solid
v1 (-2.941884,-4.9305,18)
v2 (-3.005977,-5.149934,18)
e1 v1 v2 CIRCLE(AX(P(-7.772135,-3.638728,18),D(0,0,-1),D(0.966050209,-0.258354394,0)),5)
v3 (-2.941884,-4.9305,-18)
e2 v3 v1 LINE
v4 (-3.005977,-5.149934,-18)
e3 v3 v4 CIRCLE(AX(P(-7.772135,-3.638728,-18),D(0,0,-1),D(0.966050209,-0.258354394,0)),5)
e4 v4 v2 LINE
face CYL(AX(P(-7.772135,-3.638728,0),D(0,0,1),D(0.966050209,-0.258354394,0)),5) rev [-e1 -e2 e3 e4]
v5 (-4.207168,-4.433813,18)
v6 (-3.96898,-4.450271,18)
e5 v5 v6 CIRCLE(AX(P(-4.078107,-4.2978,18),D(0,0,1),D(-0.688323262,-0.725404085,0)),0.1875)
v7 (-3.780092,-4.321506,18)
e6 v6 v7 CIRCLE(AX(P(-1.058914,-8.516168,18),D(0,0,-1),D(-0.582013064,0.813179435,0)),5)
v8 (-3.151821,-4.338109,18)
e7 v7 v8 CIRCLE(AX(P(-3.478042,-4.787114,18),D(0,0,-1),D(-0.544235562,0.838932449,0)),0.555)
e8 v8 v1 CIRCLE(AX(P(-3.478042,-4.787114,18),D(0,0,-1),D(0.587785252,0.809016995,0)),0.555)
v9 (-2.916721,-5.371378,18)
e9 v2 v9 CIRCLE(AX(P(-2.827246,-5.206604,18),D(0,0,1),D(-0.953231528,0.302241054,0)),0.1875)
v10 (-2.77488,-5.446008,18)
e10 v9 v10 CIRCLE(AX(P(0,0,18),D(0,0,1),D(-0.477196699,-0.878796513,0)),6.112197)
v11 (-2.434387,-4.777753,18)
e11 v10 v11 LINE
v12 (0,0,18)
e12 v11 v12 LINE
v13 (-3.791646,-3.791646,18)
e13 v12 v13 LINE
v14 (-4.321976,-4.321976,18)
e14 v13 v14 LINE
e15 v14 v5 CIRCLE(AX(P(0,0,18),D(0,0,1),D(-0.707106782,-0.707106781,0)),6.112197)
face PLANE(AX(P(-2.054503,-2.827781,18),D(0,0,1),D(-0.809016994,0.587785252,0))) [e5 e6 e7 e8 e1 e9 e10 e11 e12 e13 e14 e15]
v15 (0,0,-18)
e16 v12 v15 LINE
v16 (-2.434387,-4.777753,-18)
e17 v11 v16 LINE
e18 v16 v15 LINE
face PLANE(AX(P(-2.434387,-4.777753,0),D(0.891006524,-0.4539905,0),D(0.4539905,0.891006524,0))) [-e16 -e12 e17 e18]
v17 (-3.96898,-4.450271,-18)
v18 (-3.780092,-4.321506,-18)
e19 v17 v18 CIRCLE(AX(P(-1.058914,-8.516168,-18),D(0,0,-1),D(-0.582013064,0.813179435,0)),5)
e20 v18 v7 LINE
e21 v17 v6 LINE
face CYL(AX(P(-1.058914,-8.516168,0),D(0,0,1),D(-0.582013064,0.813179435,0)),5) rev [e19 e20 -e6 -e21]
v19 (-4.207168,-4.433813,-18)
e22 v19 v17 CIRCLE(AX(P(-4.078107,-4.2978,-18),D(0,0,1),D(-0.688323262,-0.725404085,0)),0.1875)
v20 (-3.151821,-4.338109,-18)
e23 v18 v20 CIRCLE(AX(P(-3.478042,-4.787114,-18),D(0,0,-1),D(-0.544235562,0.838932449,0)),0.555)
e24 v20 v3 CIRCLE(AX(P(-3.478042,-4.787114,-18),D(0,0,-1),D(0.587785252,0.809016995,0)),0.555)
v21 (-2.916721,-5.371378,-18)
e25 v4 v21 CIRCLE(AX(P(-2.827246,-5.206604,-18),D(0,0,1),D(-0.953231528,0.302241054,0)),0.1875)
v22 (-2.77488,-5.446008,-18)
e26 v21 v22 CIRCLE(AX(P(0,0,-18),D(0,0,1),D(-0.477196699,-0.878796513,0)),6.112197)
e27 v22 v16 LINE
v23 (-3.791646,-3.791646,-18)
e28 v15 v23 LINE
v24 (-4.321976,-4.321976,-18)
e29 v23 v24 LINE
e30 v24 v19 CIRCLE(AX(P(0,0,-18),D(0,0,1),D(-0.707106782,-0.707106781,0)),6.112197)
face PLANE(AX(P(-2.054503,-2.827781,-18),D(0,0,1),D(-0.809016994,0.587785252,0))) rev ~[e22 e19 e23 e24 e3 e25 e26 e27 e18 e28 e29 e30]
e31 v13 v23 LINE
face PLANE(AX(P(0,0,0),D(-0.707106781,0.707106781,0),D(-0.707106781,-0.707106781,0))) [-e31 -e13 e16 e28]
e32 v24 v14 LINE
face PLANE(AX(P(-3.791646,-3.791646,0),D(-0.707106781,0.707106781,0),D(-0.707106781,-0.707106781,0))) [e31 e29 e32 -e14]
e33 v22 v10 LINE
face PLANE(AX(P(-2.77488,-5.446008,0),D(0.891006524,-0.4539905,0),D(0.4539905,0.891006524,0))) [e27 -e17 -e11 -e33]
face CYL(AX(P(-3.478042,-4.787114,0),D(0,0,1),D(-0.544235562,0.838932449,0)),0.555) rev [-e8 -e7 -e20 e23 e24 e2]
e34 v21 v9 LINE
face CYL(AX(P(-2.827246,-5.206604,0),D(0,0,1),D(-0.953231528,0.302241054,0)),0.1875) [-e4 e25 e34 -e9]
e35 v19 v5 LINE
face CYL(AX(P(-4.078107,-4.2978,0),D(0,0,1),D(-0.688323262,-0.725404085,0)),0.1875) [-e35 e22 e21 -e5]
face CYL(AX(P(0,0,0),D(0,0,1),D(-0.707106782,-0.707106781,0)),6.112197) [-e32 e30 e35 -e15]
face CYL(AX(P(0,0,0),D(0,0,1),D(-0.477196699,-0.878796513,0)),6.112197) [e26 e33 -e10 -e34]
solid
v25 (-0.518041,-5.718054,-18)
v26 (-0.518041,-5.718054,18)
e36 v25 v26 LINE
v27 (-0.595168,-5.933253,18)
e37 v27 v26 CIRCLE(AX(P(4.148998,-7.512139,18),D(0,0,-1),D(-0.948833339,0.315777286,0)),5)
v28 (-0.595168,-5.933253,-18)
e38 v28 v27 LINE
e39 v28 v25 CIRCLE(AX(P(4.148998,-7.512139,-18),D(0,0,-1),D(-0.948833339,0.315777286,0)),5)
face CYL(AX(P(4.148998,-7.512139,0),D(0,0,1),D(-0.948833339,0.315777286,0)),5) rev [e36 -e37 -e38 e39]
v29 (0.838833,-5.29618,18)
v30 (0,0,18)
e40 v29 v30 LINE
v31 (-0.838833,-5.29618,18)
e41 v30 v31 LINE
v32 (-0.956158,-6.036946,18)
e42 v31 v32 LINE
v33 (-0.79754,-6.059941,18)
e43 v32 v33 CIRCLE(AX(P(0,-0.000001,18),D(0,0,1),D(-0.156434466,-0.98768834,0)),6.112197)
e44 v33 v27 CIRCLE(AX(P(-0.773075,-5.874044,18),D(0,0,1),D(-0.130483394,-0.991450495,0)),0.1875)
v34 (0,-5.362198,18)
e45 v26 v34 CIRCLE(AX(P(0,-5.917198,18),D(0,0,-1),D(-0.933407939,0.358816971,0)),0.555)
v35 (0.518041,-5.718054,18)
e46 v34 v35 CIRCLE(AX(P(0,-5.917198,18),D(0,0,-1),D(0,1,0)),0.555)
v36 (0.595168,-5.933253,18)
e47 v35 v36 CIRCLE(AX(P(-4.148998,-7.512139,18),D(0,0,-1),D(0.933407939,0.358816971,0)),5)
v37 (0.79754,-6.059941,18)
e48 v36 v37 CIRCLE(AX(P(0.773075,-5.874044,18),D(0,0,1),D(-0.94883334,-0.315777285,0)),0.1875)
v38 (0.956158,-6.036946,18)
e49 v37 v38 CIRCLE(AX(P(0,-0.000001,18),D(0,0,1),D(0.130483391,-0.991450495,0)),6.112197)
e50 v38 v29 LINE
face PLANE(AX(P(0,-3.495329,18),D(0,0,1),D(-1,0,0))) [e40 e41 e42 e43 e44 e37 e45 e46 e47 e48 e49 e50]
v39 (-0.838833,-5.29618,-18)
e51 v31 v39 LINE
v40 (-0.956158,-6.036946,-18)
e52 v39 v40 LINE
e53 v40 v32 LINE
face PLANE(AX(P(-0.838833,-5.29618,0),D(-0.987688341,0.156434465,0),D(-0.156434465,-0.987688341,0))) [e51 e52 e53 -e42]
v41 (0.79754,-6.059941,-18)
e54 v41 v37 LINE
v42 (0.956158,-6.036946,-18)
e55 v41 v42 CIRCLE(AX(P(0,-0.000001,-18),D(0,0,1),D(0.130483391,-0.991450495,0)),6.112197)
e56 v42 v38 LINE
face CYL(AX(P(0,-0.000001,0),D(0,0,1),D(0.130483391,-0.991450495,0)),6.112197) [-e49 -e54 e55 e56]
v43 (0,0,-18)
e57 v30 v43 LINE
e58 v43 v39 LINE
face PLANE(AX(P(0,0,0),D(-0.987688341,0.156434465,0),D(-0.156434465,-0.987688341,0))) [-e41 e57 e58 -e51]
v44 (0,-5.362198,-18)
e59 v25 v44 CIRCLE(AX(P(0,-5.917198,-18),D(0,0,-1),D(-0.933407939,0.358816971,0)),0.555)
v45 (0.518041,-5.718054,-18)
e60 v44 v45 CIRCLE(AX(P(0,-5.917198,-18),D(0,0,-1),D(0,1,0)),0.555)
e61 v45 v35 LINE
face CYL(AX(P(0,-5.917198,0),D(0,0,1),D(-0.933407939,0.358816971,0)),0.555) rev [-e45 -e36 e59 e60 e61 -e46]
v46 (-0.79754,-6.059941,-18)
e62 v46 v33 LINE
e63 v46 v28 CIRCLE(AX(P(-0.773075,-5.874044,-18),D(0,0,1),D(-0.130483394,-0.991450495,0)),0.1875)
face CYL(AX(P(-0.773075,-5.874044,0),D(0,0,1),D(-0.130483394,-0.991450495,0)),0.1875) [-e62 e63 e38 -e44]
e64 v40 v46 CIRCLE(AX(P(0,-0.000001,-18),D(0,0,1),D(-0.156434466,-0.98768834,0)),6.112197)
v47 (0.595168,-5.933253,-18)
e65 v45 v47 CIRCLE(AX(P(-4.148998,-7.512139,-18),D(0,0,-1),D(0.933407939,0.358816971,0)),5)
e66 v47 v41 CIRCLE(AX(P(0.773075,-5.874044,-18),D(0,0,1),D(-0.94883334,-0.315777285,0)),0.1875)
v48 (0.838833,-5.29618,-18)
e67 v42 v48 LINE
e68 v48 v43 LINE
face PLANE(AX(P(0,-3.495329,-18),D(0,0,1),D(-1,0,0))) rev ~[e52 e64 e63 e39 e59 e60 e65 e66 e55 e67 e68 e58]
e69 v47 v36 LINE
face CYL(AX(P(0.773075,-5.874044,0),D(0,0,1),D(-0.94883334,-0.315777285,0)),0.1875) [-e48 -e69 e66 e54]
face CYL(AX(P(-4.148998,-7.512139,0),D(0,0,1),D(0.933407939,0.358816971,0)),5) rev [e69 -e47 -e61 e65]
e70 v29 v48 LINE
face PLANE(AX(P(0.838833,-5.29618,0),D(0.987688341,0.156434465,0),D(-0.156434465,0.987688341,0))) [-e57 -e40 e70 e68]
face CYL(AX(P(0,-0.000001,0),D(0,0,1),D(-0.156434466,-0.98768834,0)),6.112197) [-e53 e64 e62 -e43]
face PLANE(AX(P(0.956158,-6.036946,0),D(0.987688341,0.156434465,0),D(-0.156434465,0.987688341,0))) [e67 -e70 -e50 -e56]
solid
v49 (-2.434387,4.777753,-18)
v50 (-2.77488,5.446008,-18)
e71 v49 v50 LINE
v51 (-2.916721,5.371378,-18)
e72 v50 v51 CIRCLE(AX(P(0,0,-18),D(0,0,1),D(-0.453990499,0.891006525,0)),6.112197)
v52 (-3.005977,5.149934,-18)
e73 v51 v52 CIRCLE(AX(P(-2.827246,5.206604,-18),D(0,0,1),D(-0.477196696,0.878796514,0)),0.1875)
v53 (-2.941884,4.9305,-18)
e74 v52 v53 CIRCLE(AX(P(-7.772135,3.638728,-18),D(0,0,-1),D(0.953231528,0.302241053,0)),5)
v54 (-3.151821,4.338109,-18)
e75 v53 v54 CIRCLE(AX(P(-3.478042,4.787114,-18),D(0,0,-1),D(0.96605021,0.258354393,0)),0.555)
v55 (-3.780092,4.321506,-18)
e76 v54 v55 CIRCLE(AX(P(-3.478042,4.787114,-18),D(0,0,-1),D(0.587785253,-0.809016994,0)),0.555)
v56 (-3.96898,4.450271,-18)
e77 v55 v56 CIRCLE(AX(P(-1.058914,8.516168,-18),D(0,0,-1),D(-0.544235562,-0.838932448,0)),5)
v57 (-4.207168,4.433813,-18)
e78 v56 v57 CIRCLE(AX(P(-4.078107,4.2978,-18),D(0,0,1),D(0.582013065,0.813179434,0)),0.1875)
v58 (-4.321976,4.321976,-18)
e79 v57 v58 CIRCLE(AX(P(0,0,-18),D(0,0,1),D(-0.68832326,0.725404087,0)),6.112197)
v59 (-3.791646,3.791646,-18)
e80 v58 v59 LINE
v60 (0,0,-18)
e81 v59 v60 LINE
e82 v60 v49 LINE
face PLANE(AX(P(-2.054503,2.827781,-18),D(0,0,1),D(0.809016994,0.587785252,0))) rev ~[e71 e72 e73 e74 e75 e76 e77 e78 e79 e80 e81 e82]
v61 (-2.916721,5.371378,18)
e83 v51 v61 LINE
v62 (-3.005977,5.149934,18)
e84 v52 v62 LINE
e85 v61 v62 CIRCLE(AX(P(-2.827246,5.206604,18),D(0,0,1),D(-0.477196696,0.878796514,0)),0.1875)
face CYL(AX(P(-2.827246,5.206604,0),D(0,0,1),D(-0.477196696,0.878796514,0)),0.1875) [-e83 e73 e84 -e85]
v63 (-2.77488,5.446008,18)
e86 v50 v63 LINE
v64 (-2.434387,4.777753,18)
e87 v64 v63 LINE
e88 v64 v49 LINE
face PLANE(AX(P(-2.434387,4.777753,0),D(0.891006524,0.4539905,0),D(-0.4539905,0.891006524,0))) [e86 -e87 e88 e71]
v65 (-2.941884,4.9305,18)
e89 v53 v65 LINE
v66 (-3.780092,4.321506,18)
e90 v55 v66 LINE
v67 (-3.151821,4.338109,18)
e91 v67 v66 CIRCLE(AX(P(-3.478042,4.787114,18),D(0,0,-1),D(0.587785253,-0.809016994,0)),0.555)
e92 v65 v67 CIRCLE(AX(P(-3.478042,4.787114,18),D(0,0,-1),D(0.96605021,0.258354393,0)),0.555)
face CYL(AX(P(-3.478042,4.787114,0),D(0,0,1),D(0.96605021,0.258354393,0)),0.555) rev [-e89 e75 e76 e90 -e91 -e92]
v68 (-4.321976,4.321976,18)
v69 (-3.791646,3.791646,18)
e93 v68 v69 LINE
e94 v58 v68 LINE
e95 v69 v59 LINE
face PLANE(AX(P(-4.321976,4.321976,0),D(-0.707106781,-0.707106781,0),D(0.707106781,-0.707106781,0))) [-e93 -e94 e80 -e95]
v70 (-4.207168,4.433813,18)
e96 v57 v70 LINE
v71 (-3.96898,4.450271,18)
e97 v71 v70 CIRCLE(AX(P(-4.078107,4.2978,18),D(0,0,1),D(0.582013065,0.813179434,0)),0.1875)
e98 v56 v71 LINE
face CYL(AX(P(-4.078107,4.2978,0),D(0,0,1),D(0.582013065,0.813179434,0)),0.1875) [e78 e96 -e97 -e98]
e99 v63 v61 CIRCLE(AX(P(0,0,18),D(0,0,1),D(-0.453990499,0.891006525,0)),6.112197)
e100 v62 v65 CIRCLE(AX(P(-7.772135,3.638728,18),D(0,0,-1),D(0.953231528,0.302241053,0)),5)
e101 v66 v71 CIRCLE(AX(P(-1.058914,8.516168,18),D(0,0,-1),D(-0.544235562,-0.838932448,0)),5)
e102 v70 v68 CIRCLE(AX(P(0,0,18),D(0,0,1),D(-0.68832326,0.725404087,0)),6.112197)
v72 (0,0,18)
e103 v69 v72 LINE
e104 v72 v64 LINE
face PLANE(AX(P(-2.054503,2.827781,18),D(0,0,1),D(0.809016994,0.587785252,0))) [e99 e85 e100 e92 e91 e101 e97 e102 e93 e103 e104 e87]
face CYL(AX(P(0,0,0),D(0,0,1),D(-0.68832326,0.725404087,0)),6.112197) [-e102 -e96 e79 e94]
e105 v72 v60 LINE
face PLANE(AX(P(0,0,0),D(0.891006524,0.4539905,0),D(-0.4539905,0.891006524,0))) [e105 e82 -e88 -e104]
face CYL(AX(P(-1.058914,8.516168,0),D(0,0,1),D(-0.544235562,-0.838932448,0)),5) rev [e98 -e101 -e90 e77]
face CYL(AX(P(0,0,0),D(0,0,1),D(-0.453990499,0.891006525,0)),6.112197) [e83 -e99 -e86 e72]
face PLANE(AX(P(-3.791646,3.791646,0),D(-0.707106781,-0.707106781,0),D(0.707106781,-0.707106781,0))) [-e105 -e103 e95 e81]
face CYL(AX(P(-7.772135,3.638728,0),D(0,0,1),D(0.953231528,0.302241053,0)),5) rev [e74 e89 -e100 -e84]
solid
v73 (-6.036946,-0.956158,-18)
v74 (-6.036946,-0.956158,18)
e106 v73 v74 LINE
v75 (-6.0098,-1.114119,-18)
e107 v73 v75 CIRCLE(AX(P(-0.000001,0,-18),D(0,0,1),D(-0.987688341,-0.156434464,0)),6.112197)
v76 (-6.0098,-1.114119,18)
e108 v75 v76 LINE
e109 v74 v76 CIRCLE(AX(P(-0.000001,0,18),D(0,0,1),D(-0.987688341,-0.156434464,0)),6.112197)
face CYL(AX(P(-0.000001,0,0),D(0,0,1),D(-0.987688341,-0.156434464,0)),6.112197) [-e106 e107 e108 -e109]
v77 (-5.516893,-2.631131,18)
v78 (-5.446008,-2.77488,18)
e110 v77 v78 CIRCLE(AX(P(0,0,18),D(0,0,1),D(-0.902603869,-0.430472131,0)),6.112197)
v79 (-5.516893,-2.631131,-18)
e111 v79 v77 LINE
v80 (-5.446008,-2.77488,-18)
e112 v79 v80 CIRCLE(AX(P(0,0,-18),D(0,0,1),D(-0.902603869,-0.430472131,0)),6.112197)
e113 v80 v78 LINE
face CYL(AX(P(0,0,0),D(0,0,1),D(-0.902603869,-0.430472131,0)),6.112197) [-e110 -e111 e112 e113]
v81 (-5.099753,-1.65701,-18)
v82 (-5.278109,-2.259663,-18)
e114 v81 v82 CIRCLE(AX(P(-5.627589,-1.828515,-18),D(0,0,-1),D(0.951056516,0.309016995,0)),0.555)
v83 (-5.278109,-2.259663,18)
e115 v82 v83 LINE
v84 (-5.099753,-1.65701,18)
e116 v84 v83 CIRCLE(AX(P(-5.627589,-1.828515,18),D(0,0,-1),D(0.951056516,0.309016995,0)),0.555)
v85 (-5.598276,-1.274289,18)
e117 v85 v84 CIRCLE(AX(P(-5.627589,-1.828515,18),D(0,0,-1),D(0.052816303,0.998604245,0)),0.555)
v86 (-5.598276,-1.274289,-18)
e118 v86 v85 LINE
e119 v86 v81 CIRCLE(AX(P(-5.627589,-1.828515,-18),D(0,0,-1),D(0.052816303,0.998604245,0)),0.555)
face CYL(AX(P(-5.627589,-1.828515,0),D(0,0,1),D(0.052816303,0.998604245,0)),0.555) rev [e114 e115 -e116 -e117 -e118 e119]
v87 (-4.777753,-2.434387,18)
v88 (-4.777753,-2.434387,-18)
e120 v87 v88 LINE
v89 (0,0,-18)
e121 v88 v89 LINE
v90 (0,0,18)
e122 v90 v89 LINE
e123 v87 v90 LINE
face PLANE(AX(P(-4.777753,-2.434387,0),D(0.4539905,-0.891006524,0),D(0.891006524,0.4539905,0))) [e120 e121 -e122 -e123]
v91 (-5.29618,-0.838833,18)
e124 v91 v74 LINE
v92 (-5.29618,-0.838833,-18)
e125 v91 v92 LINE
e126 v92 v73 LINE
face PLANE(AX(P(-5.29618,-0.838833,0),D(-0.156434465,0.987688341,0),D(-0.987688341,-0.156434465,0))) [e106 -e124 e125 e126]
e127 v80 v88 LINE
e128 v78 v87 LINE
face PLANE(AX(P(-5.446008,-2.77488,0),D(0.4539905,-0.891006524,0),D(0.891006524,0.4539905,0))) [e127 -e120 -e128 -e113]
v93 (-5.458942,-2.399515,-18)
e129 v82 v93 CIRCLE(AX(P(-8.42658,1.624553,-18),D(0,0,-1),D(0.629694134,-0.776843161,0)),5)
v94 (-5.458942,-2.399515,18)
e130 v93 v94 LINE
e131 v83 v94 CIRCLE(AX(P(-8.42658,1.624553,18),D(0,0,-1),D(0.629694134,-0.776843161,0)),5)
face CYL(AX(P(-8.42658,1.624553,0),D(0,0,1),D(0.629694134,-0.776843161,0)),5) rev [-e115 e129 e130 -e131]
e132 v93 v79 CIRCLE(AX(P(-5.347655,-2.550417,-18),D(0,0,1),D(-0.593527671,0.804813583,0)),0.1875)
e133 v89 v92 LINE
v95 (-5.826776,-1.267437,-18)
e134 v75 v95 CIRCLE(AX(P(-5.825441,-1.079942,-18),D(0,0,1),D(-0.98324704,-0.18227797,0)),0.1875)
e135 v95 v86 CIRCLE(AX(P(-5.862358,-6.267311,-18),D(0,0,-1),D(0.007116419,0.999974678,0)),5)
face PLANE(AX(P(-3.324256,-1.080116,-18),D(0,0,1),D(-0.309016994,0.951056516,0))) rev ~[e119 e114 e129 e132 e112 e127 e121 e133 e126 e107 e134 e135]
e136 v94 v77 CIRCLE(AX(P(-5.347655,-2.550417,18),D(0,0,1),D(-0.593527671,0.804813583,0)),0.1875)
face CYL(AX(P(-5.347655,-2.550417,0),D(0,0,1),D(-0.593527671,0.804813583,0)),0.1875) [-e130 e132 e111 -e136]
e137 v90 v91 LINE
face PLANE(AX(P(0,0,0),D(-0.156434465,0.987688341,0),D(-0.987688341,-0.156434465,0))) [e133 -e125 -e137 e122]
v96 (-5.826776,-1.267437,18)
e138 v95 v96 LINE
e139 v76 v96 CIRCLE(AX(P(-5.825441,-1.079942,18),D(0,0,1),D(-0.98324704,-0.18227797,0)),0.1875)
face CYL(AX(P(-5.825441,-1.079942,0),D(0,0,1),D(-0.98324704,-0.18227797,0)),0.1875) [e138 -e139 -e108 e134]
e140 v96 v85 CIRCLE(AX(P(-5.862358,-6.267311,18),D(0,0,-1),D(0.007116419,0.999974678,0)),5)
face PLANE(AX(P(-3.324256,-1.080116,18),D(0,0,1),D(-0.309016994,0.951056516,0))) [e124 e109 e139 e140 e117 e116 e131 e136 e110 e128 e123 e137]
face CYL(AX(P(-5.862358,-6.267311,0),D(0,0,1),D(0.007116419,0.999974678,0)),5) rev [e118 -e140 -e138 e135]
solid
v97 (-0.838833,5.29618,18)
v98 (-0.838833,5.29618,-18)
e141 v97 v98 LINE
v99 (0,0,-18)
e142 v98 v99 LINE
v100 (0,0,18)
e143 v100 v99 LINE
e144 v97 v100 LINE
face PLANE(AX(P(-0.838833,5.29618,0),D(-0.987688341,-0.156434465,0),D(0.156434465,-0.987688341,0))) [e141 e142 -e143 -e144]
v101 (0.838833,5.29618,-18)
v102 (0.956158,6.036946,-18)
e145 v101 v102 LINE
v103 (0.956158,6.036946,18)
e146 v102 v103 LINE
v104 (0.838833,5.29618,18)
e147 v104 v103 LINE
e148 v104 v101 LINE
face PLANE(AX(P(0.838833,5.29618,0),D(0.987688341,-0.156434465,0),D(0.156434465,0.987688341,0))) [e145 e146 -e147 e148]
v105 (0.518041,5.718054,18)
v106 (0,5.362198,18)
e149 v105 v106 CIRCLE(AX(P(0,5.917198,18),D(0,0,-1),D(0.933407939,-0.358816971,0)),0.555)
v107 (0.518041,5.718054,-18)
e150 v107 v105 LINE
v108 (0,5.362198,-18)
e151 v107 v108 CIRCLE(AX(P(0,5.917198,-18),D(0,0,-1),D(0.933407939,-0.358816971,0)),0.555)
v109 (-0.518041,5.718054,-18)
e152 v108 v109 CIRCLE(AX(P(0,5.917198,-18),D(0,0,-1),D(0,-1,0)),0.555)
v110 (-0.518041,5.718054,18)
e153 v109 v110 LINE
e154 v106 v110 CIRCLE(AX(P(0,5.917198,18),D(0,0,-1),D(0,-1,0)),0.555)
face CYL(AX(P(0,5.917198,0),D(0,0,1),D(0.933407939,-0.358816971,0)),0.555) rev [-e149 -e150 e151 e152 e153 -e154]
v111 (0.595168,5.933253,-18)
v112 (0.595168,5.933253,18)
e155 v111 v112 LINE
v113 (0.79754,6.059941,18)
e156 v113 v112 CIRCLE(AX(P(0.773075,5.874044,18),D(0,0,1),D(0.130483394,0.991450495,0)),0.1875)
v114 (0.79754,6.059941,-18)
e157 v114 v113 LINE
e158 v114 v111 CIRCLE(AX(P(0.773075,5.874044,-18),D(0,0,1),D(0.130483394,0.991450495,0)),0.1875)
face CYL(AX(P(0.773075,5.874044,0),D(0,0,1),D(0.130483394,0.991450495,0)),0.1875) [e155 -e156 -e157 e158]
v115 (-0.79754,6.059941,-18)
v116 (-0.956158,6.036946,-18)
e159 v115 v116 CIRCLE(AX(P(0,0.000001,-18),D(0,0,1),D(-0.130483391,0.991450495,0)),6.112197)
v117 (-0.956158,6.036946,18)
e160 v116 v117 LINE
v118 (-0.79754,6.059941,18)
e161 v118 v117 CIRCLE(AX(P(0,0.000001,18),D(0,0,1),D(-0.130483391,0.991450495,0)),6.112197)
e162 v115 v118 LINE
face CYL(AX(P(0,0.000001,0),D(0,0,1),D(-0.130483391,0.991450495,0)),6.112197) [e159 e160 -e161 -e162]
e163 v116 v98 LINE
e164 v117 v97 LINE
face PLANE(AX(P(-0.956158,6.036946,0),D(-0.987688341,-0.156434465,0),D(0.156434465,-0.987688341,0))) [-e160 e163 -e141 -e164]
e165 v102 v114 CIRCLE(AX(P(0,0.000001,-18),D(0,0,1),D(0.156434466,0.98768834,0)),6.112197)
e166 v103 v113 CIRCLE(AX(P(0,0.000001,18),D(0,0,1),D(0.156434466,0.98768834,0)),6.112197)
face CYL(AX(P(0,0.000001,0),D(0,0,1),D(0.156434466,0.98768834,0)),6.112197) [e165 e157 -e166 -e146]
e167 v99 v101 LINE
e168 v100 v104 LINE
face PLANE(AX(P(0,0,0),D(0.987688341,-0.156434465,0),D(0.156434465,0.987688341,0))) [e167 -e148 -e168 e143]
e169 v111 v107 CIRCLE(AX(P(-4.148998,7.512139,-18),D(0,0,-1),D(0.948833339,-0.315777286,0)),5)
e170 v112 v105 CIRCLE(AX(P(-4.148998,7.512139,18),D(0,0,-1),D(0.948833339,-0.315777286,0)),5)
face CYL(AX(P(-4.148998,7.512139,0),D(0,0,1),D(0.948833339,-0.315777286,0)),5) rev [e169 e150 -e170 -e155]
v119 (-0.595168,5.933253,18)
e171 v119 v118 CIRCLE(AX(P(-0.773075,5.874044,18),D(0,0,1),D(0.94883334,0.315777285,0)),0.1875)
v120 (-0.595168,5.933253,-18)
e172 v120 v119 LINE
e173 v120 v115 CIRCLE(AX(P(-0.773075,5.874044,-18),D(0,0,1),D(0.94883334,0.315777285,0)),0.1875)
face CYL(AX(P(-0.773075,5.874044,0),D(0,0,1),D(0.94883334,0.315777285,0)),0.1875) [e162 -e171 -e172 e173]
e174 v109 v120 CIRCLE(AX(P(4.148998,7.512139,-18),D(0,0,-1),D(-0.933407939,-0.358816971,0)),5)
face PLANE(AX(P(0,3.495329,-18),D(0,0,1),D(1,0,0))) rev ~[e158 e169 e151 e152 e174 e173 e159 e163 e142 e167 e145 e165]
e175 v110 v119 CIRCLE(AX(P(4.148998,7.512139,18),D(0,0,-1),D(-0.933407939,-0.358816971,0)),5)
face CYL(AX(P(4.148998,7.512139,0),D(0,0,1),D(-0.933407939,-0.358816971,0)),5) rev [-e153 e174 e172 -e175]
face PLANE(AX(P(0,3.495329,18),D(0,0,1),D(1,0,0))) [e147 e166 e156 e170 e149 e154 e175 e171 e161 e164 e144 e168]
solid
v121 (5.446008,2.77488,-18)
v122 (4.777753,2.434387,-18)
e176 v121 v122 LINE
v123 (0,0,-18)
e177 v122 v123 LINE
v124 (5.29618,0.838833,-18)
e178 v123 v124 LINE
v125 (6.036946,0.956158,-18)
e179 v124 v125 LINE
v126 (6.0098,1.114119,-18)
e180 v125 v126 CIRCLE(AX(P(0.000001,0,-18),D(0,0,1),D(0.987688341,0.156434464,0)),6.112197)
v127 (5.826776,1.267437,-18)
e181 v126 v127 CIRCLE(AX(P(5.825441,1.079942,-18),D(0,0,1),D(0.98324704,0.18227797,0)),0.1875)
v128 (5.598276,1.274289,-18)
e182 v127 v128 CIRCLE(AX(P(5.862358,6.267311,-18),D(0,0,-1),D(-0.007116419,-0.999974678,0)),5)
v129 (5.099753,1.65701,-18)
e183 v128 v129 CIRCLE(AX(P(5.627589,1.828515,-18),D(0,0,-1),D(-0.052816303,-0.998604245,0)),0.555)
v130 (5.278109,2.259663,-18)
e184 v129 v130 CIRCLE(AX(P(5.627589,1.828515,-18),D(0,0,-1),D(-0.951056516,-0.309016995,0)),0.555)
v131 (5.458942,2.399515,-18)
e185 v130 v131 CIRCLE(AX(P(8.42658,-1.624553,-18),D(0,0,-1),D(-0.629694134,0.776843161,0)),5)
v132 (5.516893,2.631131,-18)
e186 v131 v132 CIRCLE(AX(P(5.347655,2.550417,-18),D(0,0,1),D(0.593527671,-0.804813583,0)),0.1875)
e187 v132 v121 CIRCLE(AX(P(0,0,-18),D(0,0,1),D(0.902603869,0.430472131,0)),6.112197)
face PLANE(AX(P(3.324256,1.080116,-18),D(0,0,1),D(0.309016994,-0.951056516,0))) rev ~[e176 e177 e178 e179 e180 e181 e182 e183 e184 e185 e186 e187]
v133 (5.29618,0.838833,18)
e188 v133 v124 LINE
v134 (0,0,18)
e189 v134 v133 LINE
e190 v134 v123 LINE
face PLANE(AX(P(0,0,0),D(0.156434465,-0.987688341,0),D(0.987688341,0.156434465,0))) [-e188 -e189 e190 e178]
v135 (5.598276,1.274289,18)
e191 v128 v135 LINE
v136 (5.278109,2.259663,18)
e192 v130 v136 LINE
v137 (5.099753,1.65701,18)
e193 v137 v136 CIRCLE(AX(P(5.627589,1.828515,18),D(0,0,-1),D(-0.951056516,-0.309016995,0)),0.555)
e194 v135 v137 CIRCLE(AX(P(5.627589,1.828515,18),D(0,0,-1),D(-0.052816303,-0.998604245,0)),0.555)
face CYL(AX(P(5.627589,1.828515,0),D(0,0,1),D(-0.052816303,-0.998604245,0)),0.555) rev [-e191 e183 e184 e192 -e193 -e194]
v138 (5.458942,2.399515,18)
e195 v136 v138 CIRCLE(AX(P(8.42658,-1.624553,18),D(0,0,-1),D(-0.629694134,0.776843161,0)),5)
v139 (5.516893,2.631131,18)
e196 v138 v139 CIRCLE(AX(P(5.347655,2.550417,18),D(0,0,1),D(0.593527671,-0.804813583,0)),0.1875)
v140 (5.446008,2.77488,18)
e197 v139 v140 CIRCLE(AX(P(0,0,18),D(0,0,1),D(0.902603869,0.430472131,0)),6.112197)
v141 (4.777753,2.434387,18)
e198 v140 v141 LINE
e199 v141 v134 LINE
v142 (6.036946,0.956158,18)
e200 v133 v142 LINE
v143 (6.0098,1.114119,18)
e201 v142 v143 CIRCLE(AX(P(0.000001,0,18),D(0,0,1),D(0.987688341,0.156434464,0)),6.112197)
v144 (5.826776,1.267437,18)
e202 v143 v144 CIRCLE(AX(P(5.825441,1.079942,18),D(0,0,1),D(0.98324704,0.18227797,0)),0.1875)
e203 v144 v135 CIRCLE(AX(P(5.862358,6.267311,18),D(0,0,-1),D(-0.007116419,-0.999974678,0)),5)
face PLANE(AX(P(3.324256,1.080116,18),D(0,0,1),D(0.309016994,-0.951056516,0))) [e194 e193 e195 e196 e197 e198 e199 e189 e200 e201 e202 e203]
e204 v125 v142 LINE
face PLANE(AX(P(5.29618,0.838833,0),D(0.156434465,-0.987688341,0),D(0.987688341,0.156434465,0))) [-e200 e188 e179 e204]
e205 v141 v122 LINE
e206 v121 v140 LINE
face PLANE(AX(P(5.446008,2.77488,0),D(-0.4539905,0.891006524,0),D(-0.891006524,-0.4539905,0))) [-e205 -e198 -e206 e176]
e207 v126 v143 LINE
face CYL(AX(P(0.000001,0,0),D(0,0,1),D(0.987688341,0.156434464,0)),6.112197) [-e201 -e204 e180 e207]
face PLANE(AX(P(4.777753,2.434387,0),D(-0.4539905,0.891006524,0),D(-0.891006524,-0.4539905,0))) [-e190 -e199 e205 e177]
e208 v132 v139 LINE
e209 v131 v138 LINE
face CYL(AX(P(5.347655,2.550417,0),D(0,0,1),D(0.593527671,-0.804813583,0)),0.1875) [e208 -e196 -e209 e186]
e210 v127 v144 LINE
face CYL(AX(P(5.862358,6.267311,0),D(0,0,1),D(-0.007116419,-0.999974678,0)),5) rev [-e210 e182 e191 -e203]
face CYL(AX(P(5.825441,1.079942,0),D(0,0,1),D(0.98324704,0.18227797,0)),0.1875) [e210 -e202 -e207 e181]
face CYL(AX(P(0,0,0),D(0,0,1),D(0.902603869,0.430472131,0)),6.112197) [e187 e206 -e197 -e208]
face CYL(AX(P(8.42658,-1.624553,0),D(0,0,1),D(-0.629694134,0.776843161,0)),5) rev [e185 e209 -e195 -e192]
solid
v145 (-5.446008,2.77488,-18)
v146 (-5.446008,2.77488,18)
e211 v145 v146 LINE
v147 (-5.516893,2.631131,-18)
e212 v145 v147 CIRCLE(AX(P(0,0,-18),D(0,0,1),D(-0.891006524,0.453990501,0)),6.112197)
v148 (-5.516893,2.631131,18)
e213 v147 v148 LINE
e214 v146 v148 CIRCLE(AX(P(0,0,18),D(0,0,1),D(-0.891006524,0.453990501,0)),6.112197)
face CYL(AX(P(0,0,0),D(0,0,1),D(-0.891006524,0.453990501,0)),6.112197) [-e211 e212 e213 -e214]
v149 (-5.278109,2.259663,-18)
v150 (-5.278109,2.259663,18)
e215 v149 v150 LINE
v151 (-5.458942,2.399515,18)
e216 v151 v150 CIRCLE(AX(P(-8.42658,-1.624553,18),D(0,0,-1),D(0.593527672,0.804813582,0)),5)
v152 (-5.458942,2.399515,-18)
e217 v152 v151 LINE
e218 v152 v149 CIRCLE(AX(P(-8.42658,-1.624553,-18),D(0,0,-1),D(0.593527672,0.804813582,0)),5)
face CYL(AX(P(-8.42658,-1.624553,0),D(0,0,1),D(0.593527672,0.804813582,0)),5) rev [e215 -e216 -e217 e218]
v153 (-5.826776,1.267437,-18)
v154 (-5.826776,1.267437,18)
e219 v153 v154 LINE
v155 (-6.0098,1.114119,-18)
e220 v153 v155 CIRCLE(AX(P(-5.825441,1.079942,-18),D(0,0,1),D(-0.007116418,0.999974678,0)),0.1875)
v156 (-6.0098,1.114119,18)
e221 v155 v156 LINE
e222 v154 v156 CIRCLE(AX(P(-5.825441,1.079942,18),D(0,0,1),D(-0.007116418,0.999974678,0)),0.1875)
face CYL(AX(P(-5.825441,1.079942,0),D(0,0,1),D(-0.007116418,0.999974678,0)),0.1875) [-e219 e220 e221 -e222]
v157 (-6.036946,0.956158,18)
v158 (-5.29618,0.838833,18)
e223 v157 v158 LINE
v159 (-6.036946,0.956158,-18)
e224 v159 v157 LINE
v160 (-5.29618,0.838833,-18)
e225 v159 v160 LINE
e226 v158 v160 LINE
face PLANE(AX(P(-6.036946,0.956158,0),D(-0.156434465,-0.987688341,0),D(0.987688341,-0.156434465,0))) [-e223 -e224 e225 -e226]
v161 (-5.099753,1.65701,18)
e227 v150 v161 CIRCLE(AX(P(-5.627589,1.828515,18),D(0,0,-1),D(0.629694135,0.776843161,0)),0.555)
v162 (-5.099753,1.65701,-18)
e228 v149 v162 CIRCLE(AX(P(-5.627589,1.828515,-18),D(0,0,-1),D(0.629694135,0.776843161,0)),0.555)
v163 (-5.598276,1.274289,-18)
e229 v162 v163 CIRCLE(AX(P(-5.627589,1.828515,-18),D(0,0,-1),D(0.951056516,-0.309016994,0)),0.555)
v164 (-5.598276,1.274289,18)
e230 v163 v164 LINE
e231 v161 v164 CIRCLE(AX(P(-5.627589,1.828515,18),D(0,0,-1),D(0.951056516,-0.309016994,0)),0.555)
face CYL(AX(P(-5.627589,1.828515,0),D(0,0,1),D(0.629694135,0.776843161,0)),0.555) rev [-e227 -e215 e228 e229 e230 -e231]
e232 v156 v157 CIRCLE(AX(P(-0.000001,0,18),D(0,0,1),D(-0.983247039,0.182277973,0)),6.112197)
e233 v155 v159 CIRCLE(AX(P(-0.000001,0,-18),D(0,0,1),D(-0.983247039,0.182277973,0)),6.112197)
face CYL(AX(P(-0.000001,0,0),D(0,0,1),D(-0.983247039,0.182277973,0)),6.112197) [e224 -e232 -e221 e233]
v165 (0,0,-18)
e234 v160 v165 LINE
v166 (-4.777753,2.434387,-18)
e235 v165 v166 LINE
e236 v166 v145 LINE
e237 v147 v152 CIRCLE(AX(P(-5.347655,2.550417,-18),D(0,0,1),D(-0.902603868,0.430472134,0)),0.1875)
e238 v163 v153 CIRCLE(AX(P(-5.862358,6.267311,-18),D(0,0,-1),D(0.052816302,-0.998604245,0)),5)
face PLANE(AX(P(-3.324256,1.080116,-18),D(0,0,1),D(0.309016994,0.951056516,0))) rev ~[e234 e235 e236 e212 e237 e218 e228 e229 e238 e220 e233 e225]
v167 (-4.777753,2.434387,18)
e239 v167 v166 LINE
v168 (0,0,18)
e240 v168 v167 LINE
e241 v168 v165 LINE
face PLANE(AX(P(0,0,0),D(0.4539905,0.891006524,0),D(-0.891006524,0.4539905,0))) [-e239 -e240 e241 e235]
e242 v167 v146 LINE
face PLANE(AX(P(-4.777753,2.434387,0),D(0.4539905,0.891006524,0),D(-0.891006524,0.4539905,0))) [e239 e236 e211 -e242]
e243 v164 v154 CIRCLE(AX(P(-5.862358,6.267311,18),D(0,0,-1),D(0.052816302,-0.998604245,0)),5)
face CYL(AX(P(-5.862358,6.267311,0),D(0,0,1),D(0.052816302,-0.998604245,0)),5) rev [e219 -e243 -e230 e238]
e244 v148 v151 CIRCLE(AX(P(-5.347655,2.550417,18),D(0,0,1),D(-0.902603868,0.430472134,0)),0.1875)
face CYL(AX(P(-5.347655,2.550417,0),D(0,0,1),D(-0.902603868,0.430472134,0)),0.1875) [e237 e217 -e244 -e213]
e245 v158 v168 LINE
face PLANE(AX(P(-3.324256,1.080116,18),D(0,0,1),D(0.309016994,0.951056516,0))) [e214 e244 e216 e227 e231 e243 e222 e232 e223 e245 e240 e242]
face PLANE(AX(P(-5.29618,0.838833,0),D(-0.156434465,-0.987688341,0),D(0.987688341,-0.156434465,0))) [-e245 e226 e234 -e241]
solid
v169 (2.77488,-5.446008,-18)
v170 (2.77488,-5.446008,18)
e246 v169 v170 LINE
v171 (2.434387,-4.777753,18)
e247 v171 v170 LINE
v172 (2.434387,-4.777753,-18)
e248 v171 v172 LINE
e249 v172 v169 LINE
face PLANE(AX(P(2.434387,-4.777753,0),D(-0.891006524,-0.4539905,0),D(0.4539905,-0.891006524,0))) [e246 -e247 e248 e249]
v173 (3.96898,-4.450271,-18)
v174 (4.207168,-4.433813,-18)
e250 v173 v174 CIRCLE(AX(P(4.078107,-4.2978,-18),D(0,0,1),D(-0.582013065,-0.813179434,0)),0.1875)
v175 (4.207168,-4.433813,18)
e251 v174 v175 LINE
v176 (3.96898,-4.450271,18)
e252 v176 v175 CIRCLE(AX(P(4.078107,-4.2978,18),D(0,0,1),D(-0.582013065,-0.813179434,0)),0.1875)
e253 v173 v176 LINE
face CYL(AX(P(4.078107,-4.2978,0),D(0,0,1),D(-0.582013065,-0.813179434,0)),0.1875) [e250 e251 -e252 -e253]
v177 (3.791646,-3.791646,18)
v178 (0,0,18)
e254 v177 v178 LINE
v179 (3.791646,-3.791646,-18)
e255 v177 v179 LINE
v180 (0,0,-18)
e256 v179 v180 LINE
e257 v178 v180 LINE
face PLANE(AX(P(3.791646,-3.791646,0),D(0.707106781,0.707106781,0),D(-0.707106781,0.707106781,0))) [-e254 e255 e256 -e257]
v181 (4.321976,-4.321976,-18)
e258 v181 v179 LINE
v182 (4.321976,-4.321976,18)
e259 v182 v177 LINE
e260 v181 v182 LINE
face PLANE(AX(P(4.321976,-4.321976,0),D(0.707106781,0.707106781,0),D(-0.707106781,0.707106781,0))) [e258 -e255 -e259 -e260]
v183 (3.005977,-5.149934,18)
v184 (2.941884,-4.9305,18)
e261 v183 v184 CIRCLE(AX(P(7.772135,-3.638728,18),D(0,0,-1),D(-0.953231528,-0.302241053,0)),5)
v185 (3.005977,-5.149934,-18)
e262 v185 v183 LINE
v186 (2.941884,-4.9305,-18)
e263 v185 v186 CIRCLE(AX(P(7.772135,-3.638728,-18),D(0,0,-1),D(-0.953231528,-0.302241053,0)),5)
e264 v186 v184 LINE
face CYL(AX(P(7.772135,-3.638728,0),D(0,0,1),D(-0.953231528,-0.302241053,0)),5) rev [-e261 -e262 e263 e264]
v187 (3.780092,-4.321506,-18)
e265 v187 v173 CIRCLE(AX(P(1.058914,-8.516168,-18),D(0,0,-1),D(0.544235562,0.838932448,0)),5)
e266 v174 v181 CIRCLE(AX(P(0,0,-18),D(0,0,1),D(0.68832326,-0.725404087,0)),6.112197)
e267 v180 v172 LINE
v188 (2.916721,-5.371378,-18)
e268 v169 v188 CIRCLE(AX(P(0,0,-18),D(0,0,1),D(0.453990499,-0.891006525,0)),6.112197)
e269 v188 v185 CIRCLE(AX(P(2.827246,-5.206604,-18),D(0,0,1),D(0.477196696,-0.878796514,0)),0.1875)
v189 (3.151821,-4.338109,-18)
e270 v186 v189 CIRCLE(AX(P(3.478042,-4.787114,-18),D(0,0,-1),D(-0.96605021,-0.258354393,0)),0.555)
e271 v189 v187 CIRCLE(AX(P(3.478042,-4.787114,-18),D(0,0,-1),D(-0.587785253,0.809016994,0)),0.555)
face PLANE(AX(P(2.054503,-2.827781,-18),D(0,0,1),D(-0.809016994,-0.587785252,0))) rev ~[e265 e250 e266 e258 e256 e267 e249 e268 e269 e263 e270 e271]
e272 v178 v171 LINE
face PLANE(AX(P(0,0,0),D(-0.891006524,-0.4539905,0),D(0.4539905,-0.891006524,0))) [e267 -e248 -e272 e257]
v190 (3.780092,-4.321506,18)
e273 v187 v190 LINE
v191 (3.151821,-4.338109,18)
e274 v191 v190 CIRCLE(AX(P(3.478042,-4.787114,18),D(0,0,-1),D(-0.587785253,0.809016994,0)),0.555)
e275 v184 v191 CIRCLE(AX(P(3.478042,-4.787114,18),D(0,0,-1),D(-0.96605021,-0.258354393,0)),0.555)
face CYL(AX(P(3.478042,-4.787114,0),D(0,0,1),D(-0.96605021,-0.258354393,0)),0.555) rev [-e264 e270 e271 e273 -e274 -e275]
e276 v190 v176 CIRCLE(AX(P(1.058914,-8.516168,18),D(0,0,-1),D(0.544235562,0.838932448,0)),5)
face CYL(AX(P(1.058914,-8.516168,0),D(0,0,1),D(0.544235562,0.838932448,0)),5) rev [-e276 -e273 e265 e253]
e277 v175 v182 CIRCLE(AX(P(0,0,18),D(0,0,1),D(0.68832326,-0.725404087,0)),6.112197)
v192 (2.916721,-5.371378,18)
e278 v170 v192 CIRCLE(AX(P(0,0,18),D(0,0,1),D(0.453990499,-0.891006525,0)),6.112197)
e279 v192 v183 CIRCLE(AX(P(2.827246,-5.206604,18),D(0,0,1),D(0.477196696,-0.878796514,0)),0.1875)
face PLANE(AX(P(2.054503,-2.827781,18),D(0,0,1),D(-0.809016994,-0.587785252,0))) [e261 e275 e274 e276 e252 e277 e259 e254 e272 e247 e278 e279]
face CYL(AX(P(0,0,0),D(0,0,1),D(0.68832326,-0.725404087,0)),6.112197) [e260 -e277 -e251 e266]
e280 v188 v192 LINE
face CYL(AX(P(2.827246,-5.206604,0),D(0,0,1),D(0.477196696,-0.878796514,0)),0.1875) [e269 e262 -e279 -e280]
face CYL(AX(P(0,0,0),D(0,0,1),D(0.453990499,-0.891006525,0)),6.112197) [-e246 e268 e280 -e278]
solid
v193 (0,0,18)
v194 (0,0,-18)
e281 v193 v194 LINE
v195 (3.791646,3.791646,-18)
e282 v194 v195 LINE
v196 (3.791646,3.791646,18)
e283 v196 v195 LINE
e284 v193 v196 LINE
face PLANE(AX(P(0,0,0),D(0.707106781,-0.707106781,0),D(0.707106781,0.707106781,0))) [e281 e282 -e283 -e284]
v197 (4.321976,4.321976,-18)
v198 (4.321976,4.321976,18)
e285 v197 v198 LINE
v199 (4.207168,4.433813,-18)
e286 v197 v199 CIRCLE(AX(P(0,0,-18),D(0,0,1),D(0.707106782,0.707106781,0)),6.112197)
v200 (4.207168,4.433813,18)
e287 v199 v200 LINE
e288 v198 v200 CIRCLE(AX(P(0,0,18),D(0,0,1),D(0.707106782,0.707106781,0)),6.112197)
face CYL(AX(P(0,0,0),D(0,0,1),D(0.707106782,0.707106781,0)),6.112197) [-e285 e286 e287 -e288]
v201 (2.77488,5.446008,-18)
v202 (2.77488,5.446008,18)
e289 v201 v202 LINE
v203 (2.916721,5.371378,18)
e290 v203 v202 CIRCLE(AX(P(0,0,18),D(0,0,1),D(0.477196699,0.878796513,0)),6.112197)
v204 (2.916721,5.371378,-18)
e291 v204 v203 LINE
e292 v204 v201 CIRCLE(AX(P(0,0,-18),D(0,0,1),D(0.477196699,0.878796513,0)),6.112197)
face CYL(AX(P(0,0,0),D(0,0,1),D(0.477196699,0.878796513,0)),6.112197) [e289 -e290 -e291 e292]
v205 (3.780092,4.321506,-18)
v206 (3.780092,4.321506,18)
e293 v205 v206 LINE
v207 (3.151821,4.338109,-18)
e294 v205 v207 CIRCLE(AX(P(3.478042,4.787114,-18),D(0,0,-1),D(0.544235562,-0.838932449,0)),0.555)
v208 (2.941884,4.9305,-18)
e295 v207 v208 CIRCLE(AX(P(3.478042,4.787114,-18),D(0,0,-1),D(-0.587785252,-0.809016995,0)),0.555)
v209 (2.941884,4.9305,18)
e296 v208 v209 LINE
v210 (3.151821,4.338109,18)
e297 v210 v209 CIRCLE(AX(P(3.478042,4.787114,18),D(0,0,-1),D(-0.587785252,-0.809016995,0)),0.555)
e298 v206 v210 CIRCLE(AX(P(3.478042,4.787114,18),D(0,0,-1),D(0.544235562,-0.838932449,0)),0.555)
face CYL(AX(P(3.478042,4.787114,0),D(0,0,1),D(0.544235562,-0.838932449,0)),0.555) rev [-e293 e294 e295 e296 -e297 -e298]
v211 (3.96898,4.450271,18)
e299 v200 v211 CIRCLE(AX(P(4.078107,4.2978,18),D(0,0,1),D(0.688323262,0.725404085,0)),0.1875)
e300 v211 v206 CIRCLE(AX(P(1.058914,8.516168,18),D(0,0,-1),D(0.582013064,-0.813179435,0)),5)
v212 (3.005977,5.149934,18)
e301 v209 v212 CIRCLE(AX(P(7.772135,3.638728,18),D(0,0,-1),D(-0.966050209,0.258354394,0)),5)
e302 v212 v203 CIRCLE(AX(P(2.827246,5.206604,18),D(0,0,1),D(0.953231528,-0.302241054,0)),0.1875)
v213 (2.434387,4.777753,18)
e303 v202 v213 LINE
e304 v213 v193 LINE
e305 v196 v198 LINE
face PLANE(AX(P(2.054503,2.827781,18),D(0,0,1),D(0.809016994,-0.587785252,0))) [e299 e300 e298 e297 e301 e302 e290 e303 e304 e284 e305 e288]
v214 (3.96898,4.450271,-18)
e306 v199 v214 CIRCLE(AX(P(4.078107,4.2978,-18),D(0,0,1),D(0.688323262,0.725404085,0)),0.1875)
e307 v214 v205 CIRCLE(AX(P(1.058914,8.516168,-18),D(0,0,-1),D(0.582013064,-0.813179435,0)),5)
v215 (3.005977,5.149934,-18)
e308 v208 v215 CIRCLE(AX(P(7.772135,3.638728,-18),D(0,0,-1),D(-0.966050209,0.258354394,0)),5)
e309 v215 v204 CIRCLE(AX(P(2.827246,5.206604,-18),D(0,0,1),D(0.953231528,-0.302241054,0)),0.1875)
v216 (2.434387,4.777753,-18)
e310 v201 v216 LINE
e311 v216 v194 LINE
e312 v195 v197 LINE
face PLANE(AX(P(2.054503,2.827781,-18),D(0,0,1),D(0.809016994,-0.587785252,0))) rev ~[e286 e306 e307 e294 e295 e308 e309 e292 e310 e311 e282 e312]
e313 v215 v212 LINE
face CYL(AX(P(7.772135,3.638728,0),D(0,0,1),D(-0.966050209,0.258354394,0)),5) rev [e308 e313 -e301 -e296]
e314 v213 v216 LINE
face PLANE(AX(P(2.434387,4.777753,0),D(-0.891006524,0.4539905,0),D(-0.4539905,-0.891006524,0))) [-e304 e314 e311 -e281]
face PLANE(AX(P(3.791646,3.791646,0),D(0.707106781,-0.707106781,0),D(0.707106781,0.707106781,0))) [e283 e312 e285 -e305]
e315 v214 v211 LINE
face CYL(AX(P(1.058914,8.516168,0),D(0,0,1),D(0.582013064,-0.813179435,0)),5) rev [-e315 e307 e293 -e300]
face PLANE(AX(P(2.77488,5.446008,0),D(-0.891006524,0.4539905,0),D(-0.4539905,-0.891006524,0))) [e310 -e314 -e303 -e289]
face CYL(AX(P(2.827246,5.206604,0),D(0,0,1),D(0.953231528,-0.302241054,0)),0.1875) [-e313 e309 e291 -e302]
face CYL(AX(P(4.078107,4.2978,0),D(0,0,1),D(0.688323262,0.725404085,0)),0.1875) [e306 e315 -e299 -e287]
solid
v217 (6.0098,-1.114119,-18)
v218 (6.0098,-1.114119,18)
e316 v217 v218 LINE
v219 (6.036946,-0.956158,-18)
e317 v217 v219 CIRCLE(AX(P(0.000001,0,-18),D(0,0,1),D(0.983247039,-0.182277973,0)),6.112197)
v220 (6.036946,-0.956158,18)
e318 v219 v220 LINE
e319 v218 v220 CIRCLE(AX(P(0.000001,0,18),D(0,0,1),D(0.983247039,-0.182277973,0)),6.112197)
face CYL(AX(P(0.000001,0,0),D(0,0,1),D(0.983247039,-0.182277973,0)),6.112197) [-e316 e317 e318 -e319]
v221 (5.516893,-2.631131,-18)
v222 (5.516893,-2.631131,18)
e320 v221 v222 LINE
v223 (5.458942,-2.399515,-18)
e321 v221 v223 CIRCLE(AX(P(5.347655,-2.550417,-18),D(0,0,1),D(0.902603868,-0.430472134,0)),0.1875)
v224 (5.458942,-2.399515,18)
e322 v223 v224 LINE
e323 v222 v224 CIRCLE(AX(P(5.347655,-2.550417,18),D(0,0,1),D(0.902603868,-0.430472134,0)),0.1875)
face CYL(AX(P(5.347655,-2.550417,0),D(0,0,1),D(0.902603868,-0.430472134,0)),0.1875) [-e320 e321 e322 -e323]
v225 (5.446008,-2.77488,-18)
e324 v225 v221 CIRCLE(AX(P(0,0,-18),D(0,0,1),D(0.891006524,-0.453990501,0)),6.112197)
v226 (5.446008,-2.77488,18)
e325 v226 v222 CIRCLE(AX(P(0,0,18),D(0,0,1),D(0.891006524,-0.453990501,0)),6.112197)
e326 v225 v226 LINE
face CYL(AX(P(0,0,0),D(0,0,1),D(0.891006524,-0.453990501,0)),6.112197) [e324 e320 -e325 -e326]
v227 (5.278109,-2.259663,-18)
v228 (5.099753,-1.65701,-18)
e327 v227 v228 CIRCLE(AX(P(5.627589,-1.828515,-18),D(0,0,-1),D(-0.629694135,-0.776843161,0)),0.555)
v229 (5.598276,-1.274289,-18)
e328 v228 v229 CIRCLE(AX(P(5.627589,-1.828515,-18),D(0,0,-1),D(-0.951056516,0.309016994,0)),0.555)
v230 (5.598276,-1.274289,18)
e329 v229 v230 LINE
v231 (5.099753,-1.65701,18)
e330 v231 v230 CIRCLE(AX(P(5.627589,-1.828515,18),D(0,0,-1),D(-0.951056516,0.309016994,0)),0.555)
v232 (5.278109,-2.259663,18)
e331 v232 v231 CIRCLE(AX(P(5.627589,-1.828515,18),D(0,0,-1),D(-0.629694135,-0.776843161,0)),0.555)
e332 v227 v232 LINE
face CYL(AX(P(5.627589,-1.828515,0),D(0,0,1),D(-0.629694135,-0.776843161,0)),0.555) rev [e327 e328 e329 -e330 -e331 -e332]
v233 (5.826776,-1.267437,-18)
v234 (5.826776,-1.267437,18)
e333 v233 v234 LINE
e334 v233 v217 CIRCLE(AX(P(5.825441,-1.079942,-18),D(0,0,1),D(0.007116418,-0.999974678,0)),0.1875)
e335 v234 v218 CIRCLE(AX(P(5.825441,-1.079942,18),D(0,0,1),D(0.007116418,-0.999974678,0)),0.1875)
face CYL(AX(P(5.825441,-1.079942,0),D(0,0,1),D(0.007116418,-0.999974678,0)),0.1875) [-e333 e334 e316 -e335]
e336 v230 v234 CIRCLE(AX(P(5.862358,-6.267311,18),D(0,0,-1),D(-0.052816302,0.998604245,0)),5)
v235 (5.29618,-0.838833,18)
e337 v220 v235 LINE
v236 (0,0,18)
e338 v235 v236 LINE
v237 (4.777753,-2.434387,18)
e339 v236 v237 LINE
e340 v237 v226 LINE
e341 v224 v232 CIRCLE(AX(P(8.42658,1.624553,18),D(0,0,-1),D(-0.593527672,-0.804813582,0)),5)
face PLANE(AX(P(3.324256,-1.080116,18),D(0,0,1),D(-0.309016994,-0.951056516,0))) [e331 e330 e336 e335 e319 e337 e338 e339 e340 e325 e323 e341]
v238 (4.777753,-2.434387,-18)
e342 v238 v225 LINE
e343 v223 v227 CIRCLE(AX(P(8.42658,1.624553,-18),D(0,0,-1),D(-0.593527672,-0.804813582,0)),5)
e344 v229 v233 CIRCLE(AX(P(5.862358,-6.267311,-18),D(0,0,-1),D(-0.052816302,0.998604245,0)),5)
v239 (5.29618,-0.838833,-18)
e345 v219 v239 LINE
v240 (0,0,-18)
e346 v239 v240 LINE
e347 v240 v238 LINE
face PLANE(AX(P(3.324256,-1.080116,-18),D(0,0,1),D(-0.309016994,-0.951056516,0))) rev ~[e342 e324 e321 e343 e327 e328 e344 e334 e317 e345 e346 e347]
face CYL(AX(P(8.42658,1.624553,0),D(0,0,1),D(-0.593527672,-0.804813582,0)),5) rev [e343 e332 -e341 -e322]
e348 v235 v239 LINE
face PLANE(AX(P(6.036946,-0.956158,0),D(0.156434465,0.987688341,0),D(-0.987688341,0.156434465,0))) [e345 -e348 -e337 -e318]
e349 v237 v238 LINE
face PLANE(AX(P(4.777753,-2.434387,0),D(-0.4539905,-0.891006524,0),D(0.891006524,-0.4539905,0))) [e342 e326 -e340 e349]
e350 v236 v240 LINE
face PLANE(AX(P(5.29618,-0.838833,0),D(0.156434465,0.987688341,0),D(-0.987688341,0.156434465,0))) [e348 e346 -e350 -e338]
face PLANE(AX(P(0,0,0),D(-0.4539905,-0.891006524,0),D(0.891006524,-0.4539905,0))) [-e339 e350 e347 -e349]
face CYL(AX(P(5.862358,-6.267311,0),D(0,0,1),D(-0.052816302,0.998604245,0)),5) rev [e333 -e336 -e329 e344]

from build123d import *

# Parameters (mm, degrees)
F3_DEPTH = 18
F4_COUNT = 10


with BuildPart() as f3:
    # F2 (on Top) → F3 (new body, symmetric)
    with BuildSketch(Plane.XY):
        with BuildLine():
            Line((0.8388325323, 5.2961801716), (0.9561583811, 6.0369464271))
            ThreePointArc((0.9561583811, 6.0369464271), (0.8769247137, 6.0489638832), (0.7975402939, 6.0599414595))
            ThreePointArc((0.7975402939, 6.0599414595), (0.673583382, 6.0329713178), (0.5951684067, 5.9332527328))
            ThreePointArc((0.5951684067, 5.9332527328), (0.5578349377, 5.8252126761), (0.5180414063, 5.7180543045))
            ThreePointArc((0.5180414063, 5.7180543045), (0.3142454474, 5.4597320978), (0, 5.3621977237))
            ThreePointArc((0, 5.3621977237), (-0.3142454474, 5.4597320978), (-0.5180414063, 5.7180543045))
            ThreePointArc((-0.5180414063, 5.7180543045), (-0.5578349377, 5.8252126761), (-0.5951684067, 5.9332527328))
            ThreePointArc((-0.5951684067, 5.9332527328), (-0.673583382, 6.0329713178), (-0.7975402939, 6.0599414595))
            ThreePointArc((-0.7975402939, 6.0599414595), (-0.8769247137, 6.0489638832), (-0.9561583811, 6.0369464271))
            Line((-0.9561583811, 6.0369464271), (-0.8388325323, 5.2961801716))
            Line((-0.8388325323, 5.2961801716), (0, 0))
            Line((0, 0), (0.8388325323, 5.2961801716))
        make_face()
    extrude(amount=F3_DEPTH, both=True)

    # F4: F3 ×10 about axis
    f4_axis = Axis((0, 0, 0), (0, 0, -1))


with BuildPart() as f3_1:
    add(f3.part)
    for i in range(1, F4_COUNT):
        add(f3.part.rotate(f4_axis, i * 360 / F4_COUNT))


solid = f3_1.part
